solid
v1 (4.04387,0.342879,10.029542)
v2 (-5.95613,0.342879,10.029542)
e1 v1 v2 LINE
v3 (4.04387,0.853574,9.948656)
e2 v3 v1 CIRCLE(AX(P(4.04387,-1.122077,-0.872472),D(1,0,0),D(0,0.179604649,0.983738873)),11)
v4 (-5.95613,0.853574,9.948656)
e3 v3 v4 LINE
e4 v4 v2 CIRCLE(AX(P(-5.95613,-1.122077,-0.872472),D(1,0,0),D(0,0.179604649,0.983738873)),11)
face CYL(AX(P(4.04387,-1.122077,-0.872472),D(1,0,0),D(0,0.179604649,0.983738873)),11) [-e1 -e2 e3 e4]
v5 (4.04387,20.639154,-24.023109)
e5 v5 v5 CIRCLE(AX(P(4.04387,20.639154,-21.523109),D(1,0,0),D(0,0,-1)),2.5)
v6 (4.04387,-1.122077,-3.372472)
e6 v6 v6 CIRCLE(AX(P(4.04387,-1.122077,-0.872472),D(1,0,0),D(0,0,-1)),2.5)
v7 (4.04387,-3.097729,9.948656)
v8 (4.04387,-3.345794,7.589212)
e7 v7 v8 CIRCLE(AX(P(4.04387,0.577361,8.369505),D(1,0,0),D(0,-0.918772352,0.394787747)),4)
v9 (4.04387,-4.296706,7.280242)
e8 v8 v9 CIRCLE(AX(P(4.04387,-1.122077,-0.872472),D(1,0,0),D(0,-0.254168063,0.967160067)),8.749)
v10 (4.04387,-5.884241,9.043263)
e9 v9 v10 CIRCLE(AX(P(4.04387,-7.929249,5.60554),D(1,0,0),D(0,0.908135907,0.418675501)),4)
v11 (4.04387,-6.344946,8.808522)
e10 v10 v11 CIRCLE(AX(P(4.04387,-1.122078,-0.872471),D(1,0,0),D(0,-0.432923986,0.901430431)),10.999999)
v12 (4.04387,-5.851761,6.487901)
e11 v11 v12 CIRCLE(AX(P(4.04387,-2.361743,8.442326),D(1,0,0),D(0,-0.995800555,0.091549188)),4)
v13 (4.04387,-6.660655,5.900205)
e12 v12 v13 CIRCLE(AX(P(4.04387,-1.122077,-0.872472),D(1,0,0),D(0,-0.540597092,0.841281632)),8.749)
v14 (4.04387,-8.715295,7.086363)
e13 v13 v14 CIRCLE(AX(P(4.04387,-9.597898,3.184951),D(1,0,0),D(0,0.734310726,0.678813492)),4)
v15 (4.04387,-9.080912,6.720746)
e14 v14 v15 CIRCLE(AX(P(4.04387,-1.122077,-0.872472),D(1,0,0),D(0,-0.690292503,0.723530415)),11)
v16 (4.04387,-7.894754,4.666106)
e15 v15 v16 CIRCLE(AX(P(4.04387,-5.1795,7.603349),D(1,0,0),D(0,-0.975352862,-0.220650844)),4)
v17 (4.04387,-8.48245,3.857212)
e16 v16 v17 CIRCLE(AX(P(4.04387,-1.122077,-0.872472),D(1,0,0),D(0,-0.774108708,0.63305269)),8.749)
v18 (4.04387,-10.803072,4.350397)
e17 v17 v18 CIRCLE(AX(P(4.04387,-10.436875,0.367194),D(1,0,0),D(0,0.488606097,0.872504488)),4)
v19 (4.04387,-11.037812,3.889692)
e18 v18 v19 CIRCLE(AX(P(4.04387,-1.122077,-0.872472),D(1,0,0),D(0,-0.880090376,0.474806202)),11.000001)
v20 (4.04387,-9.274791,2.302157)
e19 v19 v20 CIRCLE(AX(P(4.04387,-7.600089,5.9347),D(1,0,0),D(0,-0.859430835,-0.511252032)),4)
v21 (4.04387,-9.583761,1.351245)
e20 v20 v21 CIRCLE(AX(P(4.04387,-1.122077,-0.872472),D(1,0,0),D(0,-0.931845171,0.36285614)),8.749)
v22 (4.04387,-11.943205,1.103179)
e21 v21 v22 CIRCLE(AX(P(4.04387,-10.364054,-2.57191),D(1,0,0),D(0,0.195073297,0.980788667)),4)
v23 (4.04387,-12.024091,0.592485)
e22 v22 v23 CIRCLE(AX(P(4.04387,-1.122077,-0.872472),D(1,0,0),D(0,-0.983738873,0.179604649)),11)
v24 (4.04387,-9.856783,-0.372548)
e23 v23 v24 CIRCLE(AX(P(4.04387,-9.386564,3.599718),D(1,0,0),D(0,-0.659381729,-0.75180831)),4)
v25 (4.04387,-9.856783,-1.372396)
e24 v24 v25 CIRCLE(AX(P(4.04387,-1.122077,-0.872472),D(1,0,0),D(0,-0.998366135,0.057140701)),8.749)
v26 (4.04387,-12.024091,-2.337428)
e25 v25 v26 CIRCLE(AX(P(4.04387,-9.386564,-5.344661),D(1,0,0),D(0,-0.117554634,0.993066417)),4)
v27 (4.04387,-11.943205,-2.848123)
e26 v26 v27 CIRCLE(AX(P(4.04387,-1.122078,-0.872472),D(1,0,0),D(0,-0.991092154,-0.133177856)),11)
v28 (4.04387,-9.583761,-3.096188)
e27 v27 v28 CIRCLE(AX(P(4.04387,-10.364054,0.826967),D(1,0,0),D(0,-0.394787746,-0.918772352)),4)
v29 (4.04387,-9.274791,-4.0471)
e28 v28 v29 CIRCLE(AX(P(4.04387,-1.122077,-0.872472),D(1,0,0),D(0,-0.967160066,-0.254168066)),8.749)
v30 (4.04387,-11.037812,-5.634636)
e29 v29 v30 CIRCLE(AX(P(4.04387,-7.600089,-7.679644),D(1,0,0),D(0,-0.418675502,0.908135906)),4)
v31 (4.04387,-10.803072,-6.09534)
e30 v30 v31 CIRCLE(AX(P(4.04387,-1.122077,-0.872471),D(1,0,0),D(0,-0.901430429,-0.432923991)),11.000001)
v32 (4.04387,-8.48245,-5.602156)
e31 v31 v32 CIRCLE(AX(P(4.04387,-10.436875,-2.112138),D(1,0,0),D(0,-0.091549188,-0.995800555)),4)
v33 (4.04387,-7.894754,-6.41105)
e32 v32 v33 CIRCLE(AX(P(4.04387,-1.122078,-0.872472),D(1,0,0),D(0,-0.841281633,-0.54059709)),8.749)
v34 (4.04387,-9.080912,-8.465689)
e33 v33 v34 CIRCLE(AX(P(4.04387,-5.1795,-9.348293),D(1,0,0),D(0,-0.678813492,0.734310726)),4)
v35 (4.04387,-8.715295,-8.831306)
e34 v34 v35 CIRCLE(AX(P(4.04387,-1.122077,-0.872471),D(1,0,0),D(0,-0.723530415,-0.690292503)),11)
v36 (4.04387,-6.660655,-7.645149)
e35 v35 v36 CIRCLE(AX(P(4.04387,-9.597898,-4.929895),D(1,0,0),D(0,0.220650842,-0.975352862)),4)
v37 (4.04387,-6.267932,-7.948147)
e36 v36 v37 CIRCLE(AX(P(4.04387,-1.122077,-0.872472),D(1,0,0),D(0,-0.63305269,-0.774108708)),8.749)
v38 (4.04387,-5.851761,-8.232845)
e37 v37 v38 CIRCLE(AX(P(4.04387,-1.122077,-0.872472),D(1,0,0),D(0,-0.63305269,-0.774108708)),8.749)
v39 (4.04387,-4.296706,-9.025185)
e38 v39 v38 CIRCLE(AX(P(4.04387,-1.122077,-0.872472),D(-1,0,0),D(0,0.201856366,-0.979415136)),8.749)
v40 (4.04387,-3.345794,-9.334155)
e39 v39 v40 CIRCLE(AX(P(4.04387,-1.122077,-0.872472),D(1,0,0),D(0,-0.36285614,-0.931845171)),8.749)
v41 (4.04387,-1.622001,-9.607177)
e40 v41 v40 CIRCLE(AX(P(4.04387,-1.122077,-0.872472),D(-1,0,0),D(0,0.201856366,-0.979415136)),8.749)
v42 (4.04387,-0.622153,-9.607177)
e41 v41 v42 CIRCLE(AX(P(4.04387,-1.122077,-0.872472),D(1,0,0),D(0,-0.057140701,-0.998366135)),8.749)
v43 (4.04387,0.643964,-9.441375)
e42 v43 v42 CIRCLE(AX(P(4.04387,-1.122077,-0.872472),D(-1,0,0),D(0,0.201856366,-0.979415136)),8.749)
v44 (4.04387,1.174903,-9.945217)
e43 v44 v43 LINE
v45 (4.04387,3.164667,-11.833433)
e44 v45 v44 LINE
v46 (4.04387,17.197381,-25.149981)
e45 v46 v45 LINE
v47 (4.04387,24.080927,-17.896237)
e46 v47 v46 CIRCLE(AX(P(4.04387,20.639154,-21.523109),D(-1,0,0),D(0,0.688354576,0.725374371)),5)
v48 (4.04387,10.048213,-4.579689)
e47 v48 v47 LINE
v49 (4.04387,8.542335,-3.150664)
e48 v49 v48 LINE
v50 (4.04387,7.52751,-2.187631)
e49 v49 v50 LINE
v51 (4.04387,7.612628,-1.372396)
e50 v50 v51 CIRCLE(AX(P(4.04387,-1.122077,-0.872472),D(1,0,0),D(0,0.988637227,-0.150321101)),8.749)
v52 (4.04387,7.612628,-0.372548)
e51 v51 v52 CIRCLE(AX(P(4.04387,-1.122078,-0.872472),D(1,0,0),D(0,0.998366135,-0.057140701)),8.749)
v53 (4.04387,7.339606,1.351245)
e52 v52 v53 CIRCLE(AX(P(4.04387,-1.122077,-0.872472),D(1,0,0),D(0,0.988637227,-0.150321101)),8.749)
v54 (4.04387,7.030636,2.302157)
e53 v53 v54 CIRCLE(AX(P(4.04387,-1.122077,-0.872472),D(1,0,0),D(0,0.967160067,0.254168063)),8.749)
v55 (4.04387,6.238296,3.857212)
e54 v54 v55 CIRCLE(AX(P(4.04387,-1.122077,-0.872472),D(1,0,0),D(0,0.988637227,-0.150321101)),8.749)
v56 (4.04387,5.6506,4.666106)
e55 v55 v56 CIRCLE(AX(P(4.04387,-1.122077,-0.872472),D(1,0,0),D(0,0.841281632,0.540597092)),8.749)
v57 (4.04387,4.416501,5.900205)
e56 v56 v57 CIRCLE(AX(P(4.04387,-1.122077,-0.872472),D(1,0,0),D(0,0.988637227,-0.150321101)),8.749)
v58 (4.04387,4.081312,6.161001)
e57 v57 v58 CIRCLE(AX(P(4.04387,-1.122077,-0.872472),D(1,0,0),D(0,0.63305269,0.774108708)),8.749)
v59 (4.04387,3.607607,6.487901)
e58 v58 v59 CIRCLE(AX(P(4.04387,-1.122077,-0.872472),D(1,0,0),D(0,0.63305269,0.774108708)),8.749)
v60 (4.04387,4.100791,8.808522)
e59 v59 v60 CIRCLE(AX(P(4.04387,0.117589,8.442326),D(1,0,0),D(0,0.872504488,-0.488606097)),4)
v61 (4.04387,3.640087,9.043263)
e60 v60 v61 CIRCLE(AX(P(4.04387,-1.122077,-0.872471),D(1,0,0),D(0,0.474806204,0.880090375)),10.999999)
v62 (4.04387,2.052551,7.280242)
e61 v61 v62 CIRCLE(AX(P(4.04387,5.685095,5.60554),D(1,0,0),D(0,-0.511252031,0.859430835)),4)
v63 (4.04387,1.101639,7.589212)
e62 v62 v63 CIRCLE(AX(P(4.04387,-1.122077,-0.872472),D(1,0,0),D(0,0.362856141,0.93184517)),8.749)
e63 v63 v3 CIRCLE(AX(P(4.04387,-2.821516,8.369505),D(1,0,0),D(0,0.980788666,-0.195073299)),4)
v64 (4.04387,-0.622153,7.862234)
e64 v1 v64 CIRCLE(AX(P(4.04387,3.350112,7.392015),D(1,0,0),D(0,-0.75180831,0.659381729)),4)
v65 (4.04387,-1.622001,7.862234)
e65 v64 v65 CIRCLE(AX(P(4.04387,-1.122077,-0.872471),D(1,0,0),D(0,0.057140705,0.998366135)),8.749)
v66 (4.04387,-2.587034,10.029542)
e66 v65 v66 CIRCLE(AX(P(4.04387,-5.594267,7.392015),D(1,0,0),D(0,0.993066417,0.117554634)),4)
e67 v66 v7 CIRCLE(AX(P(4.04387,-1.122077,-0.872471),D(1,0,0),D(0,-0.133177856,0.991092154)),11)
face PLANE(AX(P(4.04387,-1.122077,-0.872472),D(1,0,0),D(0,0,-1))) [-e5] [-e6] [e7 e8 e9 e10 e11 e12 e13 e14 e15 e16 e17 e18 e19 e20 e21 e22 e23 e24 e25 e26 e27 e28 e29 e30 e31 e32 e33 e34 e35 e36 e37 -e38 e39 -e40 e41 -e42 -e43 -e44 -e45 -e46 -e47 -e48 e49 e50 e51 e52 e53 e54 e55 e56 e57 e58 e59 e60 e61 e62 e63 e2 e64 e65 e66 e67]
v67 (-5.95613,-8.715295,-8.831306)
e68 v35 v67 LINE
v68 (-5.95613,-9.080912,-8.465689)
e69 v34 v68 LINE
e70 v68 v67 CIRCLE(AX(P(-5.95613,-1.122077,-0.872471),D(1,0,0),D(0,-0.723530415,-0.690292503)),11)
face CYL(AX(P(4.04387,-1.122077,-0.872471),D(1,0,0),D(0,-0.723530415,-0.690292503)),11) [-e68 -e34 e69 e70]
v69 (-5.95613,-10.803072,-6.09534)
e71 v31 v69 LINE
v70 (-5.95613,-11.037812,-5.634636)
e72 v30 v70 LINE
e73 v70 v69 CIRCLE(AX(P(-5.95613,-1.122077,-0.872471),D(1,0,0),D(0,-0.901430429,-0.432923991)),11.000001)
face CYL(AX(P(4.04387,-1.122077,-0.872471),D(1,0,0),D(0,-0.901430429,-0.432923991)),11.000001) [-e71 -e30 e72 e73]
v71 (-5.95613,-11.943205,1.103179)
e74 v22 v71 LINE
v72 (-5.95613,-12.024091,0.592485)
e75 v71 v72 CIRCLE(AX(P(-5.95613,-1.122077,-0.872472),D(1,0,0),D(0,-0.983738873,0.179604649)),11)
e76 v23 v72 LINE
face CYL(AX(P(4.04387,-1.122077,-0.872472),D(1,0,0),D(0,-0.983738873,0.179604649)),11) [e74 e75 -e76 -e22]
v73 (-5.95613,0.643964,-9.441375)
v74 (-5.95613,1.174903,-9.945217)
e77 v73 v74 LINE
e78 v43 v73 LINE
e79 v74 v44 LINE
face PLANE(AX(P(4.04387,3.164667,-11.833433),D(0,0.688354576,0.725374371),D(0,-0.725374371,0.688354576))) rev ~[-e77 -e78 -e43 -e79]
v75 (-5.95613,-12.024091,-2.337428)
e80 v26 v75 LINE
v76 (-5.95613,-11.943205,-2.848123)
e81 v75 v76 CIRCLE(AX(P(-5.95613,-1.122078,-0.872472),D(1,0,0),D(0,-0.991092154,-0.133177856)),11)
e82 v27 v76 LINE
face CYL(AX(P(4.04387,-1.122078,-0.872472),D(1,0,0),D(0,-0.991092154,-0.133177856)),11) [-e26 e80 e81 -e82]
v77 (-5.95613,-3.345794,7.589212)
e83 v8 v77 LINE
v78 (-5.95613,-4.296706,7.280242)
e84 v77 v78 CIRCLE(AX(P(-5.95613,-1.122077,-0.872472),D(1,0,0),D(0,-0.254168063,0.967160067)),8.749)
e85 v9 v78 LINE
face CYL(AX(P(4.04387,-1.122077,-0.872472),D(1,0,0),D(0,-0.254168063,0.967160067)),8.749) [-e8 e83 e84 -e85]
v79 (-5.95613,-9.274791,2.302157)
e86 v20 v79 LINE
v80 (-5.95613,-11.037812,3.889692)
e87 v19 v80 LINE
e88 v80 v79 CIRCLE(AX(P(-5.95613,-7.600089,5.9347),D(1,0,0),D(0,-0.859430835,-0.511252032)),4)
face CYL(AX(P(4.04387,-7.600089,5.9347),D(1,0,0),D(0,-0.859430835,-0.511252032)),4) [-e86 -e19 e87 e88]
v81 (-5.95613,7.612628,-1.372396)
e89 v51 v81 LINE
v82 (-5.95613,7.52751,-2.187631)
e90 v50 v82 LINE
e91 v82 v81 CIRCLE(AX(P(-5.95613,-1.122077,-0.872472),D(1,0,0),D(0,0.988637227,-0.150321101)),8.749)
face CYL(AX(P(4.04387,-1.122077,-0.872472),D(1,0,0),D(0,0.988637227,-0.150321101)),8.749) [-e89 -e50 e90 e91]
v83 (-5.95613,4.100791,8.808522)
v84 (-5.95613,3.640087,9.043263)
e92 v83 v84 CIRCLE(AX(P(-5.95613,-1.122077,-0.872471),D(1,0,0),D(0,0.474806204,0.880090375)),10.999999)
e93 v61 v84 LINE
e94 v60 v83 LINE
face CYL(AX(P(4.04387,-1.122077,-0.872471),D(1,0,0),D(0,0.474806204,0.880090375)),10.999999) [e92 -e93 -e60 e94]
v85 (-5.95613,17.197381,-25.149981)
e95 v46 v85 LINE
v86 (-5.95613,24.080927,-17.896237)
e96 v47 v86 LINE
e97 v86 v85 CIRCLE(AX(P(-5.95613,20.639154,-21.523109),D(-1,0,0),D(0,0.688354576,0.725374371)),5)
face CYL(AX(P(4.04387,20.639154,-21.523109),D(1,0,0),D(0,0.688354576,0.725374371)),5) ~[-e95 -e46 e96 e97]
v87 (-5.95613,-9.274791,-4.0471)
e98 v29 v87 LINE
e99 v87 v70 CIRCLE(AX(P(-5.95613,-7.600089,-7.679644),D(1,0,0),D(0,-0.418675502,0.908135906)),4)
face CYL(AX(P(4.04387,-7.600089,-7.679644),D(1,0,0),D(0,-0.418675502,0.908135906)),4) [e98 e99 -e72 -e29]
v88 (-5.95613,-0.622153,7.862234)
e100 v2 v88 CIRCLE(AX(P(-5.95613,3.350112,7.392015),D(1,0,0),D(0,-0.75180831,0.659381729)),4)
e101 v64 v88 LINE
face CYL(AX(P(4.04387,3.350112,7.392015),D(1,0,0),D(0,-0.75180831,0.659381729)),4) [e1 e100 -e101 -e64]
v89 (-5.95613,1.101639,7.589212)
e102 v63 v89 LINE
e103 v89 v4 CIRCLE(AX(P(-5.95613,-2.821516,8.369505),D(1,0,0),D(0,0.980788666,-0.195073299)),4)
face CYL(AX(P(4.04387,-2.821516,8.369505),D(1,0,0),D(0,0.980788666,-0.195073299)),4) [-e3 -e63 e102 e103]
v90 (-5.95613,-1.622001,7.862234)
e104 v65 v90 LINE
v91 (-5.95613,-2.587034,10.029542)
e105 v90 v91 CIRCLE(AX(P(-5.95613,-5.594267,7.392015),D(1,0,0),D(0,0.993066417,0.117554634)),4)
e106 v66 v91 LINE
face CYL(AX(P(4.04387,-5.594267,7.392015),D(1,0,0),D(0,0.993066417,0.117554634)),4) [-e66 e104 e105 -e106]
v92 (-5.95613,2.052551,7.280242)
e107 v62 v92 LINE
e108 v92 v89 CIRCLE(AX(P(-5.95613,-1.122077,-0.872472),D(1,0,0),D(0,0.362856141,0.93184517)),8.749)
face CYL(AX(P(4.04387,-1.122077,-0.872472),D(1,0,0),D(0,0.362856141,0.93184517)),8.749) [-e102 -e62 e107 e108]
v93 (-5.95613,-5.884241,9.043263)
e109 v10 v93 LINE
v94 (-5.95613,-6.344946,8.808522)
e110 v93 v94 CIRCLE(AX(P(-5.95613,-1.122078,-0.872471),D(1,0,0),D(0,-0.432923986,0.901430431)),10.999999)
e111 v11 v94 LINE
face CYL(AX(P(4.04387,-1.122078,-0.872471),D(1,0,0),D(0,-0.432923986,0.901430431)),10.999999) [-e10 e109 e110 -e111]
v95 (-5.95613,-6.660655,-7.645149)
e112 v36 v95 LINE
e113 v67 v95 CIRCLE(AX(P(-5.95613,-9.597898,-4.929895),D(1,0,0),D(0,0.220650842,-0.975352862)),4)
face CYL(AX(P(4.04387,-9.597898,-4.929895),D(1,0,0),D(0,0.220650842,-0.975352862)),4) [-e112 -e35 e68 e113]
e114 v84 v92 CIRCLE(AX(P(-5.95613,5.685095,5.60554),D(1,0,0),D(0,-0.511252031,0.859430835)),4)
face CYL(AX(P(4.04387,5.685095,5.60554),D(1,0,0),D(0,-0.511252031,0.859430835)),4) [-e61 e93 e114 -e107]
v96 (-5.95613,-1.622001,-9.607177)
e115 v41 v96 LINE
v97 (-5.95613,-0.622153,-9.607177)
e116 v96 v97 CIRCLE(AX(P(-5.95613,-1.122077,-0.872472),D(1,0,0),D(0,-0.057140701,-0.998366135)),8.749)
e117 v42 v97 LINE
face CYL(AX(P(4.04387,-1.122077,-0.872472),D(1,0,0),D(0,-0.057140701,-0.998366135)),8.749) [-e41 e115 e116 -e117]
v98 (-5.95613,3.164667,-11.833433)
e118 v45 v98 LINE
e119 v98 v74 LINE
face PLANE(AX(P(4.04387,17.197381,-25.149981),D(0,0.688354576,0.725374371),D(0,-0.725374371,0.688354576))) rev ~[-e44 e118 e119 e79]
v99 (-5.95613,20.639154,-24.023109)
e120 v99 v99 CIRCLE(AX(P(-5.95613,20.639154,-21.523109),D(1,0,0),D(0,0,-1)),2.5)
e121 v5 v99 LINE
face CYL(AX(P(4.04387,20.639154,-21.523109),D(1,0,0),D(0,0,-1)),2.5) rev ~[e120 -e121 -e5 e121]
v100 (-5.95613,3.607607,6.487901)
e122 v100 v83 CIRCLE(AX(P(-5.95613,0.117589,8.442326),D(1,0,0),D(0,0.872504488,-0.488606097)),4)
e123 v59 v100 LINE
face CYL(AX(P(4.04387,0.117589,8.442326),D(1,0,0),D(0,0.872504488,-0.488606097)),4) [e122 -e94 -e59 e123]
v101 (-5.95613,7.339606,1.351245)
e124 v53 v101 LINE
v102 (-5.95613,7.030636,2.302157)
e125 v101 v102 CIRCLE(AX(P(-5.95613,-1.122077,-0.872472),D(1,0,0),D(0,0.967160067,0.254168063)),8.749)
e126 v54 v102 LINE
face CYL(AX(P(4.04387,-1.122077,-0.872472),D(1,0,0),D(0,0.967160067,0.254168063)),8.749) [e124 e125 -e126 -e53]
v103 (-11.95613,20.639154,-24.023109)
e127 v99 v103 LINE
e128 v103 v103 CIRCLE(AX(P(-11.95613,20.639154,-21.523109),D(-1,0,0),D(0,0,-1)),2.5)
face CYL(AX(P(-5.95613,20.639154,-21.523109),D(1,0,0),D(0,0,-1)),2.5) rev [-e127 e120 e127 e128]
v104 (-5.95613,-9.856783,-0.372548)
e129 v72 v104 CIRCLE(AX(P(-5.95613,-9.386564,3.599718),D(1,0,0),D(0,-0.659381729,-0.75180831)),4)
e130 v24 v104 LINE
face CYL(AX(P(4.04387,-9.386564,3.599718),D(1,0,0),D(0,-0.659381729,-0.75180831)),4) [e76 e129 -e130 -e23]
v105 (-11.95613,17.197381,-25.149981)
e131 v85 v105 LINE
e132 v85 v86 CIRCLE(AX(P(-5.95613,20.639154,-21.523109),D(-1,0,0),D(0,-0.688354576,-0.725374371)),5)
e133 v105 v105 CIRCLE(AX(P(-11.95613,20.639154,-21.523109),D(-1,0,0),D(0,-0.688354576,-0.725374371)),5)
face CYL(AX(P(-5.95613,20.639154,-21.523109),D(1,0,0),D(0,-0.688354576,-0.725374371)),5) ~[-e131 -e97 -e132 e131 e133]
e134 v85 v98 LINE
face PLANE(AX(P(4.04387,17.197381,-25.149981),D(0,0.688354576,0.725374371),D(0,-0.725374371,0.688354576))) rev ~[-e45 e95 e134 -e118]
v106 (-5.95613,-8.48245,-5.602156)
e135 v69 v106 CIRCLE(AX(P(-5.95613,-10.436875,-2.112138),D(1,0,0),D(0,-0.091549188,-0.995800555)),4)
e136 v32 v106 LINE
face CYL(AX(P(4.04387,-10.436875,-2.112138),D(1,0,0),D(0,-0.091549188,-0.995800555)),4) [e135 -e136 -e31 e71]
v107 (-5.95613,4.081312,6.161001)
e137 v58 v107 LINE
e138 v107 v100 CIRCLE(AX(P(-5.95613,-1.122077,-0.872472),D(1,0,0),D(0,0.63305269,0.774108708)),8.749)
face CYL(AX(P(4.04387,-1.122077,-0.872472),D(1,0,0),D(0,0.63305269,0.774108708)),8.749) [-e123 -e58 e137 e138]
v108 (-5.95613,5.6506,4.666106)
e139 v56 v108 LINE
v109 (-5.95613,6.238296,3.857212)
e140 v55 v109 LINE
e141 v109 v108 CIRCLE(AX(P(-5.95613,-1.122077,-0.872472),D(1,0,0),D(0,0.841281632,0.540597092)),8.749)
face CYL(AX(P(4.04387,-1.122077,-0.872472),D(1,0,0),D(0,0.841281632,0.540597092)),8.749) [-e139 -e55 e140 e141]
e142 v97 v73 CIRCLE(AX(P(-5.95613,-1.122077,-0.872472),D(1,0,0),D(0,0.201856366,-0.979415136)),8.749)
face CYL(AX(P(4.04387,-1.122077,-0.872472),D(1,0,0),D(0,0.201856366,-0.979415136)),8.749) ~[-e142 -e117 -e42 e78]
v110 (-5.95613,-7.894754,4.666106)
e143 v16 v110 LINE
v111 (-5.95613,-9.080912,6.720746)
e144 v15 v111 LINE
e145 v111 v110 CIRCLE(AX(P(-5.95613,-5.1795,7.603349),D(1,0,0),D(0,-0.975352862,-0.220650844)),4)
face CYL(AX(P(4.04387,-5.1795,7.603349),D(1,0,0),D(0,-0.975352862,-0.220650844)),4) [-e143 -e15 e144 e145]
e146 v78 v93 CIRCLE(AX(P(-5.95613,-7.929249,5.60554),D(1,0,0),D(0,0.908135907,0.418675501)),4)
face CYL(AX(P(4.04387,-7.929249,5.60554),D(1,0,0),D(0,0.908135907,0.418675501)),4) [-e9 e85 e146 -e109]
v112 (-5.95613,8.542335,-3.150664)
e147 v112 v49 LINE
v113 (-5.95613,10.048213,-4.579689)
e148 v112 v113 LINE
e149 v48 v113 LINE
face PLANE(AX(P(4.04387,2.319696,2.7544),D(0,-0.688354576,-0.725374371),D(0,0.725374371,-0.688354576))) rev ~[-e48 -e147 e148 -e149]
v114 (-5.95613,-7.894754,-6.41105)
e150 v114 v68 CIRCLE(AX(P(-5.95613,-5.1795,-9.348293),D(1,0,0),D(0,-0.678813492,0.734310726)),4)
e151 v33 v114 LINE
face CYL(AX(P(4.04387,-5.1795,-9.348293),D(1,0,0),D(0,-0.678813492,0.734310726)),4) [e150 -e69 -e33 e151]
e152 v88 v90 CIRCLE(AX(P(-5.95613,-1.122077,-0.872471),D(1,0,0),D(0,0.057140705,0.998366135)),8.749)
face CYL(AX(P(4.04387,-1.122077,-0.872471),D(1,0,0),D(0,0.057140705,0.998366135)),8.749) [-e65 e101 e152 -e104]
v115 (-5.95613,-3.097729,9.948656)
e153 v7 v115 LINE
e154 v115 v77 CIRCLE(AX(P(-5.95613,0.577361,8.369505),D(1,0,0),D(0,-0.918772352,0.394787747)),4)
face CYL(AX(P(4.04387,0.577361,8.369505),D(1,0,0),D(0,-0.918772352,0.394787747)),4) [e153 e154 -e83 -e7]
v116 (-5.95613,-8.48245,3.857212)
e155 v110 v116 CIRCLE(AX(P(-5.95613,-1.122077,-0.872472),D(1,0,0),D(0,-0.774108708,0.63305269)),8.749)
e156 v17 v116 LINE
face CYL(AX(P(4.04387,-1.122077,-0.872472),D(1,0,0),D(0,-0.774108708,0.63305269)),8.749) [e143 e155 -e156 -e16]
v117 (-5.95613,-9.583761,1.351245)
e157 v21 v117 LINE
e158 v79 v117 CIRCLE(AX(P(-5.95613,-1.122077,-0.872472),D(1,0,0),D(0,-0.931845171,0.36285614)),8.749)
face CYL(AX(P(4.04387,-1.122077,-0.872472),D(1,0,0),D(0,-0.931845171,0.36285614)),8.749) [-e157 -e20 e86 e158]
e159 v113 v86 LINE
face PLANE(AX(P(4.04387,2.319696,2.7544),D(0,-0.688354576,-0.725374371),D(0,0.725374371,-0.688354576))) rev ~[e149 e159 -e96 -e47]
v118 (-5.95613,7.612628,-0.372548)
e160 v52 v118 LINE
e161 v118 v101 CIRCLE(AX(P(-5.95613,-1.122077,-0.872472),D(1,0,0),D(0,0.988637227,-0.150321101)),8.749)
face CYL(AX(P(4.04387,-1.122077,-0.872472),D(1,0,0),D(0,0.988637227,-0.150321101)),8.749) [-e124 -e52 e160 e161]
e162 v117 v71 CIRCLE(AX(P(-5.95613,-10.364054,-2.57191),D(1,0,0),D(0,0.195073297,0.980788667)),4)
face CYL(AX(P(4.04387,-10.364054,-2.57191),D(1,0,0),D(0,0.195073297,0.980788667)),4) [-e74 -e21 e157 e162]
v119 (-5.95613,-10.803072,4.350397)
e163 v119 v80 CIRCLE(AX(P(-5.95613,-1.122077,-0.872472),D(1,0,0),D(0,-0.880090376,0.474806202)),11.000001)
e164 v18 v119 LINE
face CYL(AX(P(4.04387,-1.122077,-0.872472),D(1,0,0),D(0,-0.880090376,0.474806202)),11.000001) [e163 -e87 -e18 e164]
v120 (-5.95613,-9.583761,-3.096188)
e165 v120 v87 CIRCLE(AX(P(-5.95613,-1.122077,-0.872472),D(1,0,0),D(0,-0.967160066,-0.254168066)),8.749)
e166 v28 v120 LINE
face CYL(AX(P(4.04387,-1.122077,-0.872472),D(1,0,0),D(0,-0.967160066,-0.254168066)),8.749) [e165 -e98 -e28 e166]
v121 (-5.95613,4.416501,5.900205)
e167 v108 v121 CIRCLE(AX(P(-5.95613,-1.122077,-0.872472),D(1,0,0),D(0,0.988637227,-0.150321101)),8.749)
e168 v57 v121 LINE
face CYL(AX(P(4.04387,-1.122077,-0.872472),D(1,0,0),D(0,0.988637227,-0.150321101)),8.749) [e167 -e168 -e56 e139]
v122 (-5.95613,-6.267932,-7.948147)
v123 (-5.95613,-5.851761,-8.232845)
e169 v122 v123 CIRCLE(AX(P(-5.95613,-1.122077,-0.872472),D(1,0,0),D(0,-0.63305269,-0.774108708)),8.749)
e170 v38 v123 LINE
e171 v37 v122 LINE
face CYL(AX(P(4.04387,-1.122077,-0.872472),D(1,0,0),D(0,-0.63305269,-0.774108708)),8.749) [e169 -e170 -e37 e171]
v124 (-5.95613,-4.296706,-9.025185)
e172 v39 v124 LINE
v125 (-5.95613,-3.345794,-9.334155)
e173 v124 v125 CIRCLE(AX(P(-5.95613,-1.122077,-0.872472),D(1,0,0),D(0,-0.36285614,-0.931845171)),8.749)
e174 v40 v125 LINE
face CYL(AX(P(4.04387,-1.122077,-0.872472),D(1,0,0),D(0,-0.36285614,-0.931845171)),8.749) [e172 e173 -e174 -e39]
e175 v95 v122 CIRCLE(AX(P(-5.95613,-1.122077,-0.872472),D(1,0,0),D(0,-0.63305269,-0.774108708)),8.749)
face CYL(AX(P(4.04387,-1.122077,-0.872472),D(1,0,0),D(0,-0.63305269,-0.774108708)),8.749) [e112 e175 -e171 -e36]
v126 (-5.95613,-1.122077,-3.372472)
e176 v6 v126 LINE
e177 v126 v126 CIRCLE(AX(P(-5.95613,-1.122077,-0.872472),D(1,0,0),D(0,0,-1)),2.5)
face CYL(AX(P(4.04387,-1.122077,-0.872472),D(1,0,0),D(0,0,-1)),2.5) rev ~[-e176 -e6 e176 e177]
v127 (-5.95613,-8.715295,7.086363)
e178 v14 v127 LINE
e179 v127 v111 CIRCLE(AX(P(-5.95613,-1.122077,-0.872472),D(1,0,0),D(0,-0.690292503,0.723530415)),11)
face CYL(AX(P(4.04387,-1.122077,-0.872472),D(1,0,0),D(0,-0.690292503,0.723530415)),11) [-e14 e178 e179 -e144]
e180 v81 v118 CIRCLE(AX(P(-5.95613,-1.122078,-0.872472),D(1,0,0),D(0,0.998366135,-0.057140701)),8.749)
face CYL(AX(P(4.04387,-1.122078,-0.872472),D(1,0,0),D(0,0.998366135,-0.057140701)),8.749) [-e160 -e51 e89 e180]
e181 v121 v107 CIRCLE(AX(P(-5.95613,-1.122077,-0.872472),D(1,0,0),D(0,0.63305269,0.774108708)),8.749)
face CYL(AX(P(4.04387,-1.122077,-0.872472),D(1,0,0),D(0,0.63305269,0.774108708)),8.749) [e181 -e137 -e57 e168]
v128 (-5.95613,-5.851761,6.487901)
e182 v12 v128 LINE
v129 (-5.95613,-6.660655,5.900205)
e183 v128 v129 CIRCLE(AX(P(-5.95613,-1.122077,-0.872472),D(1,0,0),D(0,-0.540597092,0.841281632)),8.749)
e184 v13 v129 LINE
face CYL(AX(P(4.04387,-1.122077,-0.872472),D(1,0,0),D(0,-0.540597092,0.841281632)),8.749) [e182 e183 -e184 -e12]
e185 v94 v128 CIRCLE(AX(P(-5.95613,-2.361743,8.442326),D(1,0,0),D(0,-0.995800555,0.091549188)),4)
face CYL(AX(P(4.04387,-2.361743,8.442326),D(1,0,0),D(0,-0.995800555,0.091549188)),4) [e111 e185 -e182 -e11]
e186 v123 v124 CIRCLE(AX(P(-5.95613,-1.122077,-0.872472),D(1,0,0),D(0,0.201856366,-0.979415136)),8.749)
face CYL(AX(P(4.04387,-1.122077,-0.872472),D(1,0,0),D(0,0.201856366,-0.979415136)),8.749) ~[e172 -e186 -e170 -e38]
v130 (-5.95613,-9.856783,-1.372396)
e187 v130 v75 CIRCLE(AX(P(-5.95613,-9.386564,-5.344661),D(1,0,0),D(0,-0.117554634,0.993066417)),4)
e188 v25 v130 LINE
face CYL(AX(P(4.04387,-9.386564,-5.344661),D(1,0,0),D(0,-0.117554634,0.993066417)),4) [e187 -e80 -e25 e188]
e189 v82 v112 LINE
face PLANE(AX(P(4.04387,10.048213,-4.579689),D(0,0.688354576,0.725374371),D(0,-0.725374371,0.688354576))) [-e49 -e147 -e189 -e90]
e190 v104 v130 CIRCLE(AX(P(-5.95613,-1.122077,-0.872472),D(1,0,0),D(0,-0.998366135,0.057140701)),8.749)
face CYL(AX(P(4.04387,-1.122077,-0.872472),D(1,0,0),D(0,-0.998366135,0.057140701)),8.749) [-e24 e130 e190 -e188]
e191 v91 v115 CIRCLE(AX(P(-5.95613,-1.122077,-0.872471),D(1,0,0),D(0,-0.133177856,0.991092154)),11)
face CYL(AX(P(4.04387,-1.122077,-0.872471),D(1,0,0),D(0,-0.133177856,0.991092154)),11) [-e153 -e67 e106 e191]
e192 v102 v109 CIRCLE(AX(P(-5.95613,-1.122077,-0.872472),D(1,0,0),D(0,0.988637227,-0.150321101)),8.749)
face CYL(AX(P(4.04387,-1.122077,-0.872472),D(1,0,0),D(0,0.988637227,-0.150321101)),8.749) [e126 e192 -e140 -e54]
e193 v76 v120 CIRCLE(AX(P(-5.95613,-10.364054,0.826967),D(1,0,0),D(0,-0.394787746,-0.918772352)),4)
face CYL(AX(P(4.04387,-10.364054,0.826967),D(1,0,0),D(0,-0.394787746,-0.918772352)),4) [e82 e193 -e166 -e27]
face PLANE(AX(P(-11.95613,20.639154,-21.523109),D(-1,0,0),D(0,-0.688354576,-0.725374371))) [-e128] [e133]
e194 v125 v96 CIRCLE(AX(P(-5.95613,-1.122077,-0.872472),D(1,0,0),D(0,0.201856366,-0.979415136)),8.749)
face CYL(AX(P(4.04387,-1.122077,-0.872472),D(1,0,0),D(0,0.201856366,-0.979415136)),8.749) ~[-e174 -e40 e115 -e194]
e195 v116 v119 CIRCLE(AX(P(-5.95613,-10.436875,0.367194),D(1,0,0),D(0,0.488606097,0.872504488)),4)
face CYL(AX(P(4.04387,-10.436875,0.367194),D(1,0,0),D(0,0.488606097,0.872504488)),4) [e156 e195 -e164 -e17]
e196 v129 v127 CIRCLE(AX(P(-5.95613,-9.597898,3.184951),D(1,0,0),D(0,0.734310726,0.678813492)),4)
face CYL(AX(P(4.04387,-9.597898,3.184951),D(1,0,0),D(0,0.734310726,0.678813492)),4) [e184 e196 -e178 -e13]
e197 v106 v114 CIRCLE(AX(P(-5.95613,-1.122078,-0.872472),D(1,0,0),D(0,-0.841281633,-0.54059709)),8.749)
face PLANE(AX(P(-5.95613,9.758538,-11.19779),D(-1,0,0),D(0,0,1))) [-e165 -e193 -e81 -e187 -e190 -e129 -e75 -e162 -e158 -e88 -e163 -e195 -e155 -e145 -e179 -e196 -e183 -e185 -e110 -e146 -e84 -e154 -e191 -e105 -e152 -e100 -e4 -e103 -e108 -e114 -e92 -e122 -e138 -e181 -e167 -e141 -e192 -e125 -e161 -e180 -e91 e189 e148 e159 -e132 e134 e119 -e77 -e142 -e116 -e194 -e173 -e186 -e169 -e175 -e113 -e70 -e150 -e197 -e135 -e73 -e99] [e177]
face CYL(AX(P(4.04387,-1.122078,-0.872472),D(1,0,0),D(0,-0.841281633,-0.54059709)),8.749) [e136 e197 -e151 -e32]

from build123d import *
from build123d.topology import SkipClean

# Parameters (mm, degrees)
SKETCH1_R           = 2.5
BOSS_EXTRUDE1_DEPTH = 10
SKETCH2_R           = 2.5
BOSS_EXTRUDE2_DEPTH = 10
SKETCH3_R           = 5
SKETCH3_R_2         = 2.5
BOSS_EXTRUDE3_DEPTH = 6
SKETCH4_R           = 2.5
CUT_EXTRUDE1_DEPTH  = 41.209967862
CUT_EXTRUDE2_DEPTH  = 41.209967862


with BuildPart() as part:
    # Sketch1 → Boss-Extrude1 (new body)
    with BuildSketch(Plane(origin=(4.043870029, 0, 0), x_dir=(0, 0, -1), z_dir=(1, 0, 0))):
        with BuildLine():
            ThreePointArc((-10.029541992, 0.342879069), (-9.019080639, -0.304016541), (-7.862233613, -0.622153359))
            ThreePointArc((-7.862233613, -0.622153359), (-7.876528296, -1.122077366), (-7.862233613, -1.622001374))
            ThreePointArc((-7.862233613, -1.622001374), (-9.019080639, -1.940138191), (-10.029541992, -2.587033801))
            ThreePointArc((-10.029541992, -2.587033801), (-9.992100042, -2.842856482), (-9.948655897, -3.097728508))
            ThreePointArc((-9.948655897, -3.097728508), (-8.787748306, -3.400713063), (-7.58921172, -3.345793765))
            ThreePointArc((-7.58921172, -3.345793765), (-7.448321757, -3.82566705), (-7.280241692, -4.296705735))
            ThreePointArc((-7.280241692, -4.296705735), (-8.282158911, -4.956757219), (-9.043263028, -5.884241235))
            ThreePointArc((-9.043263028, -5.884241235), (-8.928600062, -6.115972863), (-8.808522437, -6.344945585))
            ThreePointArc((-8.808522437, -6.344945585), (-7.610806331, -6.274360846), (-6.487901298, -5.851761317))
            ThreePointArc((-6.487901298, -5.851761317), (-6.20561798, -6.264610538), (-5.90020538, -6.660655353))
            ThreePointArc((-5.90020538, -6.660655353), (-6.649118154, -7.598011066), (-7.086362862, -8.715294889))
            ThreePointArc((-7.086362862, -8.715294889), (-6.905702889, -8.900251959), (-6.720745819, -9.080911932))
            ThreePointArc((-6.720745819, -9.080911932), (-5.603461996, -8.643667224), (-4.666106283, -7.89475445))
            ThreePointArc((-4.666106283, -7.89475445), (-4.270061468, -8.20016705), (-3.857212247, -8.482450368))
            ThreePointArc((-3.857212247, -8.482450368), (-4.279811776, -9.605355401), (-4.350396515, -10.803071507))
            ThreePointArc((-4.350396515, -10.803071507), (-4.121423793, -10.923149132), (-3.889692165, -11.037812099))
            ThreePointArc((-3.889692165, -11.037812099), (-2.962208149, -10.276707981), (-2.302156665, -9.274790762))
            ThreePointArc((-2.302156665, -9.274790762), (-1.83111798, -9.442870827), (-1.351244695, -9.583760791))
            ThreePointArc((-1.351244695, -9.583760791), (-1.406163992, -10.782297376), (-1.103179437, -11.943204968))
            ThreePointArc((-1.103179437, -11.943204968), (-0.848307411, -11.986649113), (-0.592484731, -12.024091063))
            ThreePointArc((-0.592484731, -12.024091063), (0.054410879, -11.01362971), (0.372547697, -9.856782684))
            ThreePointArc((0.372547697, -9.856782684), (0.872471704, -9.871077366), (1.372395712, -9.856782684))
            ThreePointArc((1.372395712, -9.856782684), (1.690532529, -11.01362971), (2.337428139, -12.024091063))
            ThreePointArc((2.337428139, -12.024091063), (2.59325082, -11.986649113), (2.848122846, -11.943204968))
            ThreePointArc((2.848122846, -11.943204968), (3.151107401, -10.782297376), (3.096188103, -9.583760791))
            ThreePointArc((3.096188103, -9.583760791), (3.576061388, -9.442870827), (4.047100073, -9.274790762))
            ThreePointArc((4.047100073, -9.274790762), (4.707151558, -10.276707981), (5.634635573, -11.037812099))
            ThreePointArc((5.634635573, -11.037812099), (5.866367201, -10.923149132), (6.095339923, -10.803071507))
            ThreePointArc((6.095339923, -10.803071507), (6.024755184, -9.605355401), (5.602155655, -8.482450368))
            ThreePointArc((5.602155655, -8.482450368), (6.015004877, -8.20016705), (6.411049691, -7.89475445))
            ThreePointArc((6.411049691, -7.89475445), (7.348405404, -8.643667224), (8.465689227, -9.080911932))
            ThreePointArc((8.465689227, -9.080911932), (8.650646297, -8.900251959), (8.83130627, -8.715294889))
            ThreePointArc((8.83130627, -8.715294889), (8.394061563, -7.598011066), (7.645148788, -6.660655353))
            ThreePointArc((7.645148788, -6.660655353), (7.950561388, -6.264610538), (8.232844706, -5.851761317))
            ThreePointArc((8.232844706, -5.851761317), (9.355749739, -6.274360846), (10.553465846, -6.344945585))
            ThreePointArc((10.553465846, -6.344945585), (10.67354347, -6.115972863), (10.788206437, -5.884241235))
            ThreePointArc((10.788206437, -5.884241235), (10.02710232, -4.956757219), (9.0251851, -4.296705735))
            ThreePointArc((9.0251851, -4.296705735), (9.193265165, -3.82566705), (9.334155129, -3.345793765))
            ThreePointArc((9.334155129, -3.345793765), (10.532691714, -3.400713063), (11.693599306, -3.097728508))
            ThreePointArc((11.693599306, -3.097728508), (11.737043451, -2.842856482), (11.774485401, -2.587033801))
            ThreePointArc((11.774485401, -2.587033801), (10.764024048, -1.940138191), (9.607177022, -1.622001374))
            ThreePointArc((9.607177022, -1.622001374), (9.621471704, -1.122077366), (9.607177022, -0.622153359))
            ThreePointArc((9.607177022, -0.622153359), (10.764024048, -0.304016541), (11.774485401, 0.342879069))
            ThreePointArc((11.774485401, 0.342879069), (11.737043451, 0.598701749), (11.693599306, 0.853573775))
            ThreePointArc((11.693599306, 0.853573775), (10.532691714, 1.156558331), (9.334155129, 1.101639033))
            ThreePointArc((9.334155129, 1.101639033), (9.193265165, 1.581512318), (9.0251851, 2.052551003))
            ThreePointArc((9.0251851, 2.052551003), (10.02710232, 2.712602487), (10.788206437, 3.640086503))
            ThreePointArc((10.788206437, 3.640086503), (10.67354347, 3.871818131), (10.553465846, 4.100790853))
            ThreePointArc((10.553465846, 4.100790853), (9.355749739, 4.030206114), (8.232844706, 3.607606585))
            ThreePointArc((8.232844706, 3.607606585), (7.950561388, 4.020455806), (7.645148788, 4.416500621))
            ThreePointArc((7.645148788, 4.416500621), (8.394061563, 5.353856334), (8.83130627, 6.471140157))
            ThreePointArc((8.83130627, 6.471140157), (8.650646297, 6.656097227), (8.465689227, 6.8367572))
            ThreePointArc((8.465689227, 6.8367572), (7.348405404, 6.399512492), (6.411049691, 5.650599718))
            ThreePointArc((6.411049691, 5.650599718), (6.015004877, 5.956012318), (5.602155655, 6.238295636))
            ThreePointArc((5.602155655, 6.238295636), (6.024755184, 7.361200669), (6.095339923, 8.558916775))
            ThreePointArc((6.095339923, 8.558916775), (5.866367201, 8.6789944), (5.634635573, 8.793657366))
            ThreePointArc((5.634635573, 8.793657366), (4.707151558, 8.032553249), (4.047100073, 7.03063603))
            ThreePointArc((4.047100073, 7.03063603), (3.576061388, 7.198716095), (3.096188103, 7.339606058))
            ThreePointArc((3.096188103, 7.339606058), (3.151107401, 8.538142644), (2.848122846, 9.699050235))
            ThreePointArc((2.848122846, 9.699050235), (2.59325082, 9.74249438), (2.337428139, 9.779936331))
            ThreePointArc((2.337428139, 9.779936331), (1.690532529, 8.769474978), (1.372395712, 7.612627952))
            ThreePointArc((1.372395712, 7.612627952), (0.872471704, 7.626922634), (0.372547697, 7.612627952))
            ThreePointArc((0.372547697, 7.612627952), (0.054410879, 8.769474978), (-0.592484731, 9.779936331))
            ThreePointArc((-0.592484731, 9.779936331), (-0.848307411, 9.74249438), (-1.103179437, 9.699050235))
            ThreePointArc((-1.103179437, 9.699050235), (-1.406163992, 8.538142644), (-1.351244695, 7.339606058))
            ThreePointArc((-1.351244695, 7.339606058), (-1.83111798, 7.198716095), (-2.302156665, 7.03063603))
            ThreePointArc((-2.302156665, 7.03063603), (-2.962208149, 8.032553249), (-3.889692165, 8.793657366))
            ThreePointArc((-3.889692165, 8.793657366), (-4.121423793, 8.6789944), (-4.350396515, 8.558916775))
            ThreePointArc((-4.350396515, 8.558916775), (-4.279811776, 7.361200669), (-3.857212247, 6.238295636))
            ThreePointArc((-3.857212247, 6.238295636), (-4.270061468, 5.956012318), (-4.666106283, 5.650599718))
            ThreePointArc((-4.666106283, 5.650599718), (-5.603461996, 6.399512492), (-6.720745819, 6.8367572))
            ThreePointArc((-6.720745819, 6.8367572), (-6.905702889, 6.656097227), (-7.086362862, 6.471140157))
            ThreePointArc((-7.086362862, 6.471140157), (-6.649118154, 5.353856334), (-5.90020538, 4.416500621))
            ThreePointArc((-5.90020538, 4.416500621), (-6.20561798, 4.020455806), (-6.487901298, 3.607606585))
            ThreePointArc((-6.487901298, 3.607606585), (-7.610806331, 4.030206114), (-8.808522437, 4.100790853))
            ThreePointArc((-8.808522437, 4.100790853), (-8.928600062, 3.871818131), (-9.043263028, 3.640086503))
            ThreePointArc((-9.043263028, 3.640086503), (-8.282158911, 2.712602487), (-7.280241692, 2.052551003))
            ThreePointArc((-7.280241692, 2.052551003), (-7.448321757, 1.581512318), (-7.58921172, 1.101639033))
            ThreePointArc((-7.58921172, 1.101639033), (-8.787748306, 1.156558331), (-9.948655897, 0.853573775))
            ThreePointArc((-9.948655897, 0.853573775), (-9.992100042, 0.598701749), (-10.029541992, 0.342879069))
        make_face()
        with Locations(Location((0.872471704, -1.122077366, 0), (0, 0, 180))):
            Circle(SKETCH1_R, mode=Mode.SUBTRACT)
    extrude(amount=-BOSS_EXTRUDE1_DEPTH)

    # Sketch2 → Boss-Extrude2 (add)
    with BuildSketch(Plane(origin=(4.043870029, 0, 0), x_dir=(0, 0, -1), z_dir=(1, 0, 0))):
        with BuildLine():
            Line((-2.754400151, 2.319695512), (17.89623712, 24.080926643))
            ThreePointArc((17.89623712, 24.080926643), (24.964881853, 24.266025619), (25.14998083, 17.197380886))
            Line((25.14998083, 17.197380886), (4.499343559, -4.563850245))
            ThreePointArc((4.499343559, -4.563850245), (-2.569301174, -4.748949221), (-2.754400151, 2.319695512))
        make_face()
        with Locations((21.523108975, 20.639153764)):
            Circle(SKETCH2_R, mode=Mode.SUBTRACT)
    extrude(amount=-BOSS_EXTRUDE2_DEPTH)

    # Sketch3 → Boss-Extrude3 (add)
    with BuildSketch(Plane.ZY.offset(5.956129971)):
        with Locations(Location((-21.523108975, 20.639153764, 0), (0, 0, 223.5))):
            Circle(SKETCH3_R)
        with Locations(Location((-21.523108975, 20.639153764, 0), (0, 0, 180))):
            Circle(SKETCH3_R_2, mode=Mode.SUBTRACT)
    extrude(amount=BOSS_EXTRUDE3_DEPTH)

    # Sketch4 → Cut-Extrude1 (cut, through all)
    with BuildSketch(Plane(origin=(4.043870029, 0, 0), x_dir=(0, 0, -1), z_dir=(1, 0, 0))):
        with Locations((0.872471704, -1.122077366)):
            Circle(SKETCH4_R)
    extrude(amount=-CUT_EXTRUDE1_DEPTH, mode=Mode.SUBTRACT)

    # Sketch6 → Cut-Extrude2 (cut, through all)
    with SkipClean():  # the faces are left unmerged after this step: merging them gives an invalid solid
        with BuildSketch(Plane(origin=(4.043870029, 0, 0), x_dir=(0, 0, -1), z_dir=(1, 0, 0))):
            with BuildLine():
                Line((4.579688985, 10.048212881), (2.187631015, 7.527509733))
                ThreePointArc((2.187631015, 7.527509733), (-2.46576826, 6.965020688), (-6.16100093, 4.08131227))
                Line((-6.16100093, 4.08131227), (-8.58915512, 5.877669916))
                ThreePointArc((-8.58915512, 5.877669916), (-2.68093011, 10.098091069), (4.579688985, 10.048212881))
            make_face()
            with BuildLine():
                Line((11.833432695, 3.164667124), (9.441374725, 0.643963976))
                ThreePointArc((9.441374725, 0.643963976), (9.424184018, -2.969566881), (7.948146758, -6.267932352))
                Line((7.948146758, -6.267932352), (10.39087042, -8.044427405))
                ThreePointArc((10.39087042, -8.044427405), (12.54560297, -2.624359175), (11.833432695, 3.164667124))
            make_face()
        extrude(amount=-CUT_EXTRUDE2_DEPTH, mode=Mode.SUBTRACT)


solid = part.part
